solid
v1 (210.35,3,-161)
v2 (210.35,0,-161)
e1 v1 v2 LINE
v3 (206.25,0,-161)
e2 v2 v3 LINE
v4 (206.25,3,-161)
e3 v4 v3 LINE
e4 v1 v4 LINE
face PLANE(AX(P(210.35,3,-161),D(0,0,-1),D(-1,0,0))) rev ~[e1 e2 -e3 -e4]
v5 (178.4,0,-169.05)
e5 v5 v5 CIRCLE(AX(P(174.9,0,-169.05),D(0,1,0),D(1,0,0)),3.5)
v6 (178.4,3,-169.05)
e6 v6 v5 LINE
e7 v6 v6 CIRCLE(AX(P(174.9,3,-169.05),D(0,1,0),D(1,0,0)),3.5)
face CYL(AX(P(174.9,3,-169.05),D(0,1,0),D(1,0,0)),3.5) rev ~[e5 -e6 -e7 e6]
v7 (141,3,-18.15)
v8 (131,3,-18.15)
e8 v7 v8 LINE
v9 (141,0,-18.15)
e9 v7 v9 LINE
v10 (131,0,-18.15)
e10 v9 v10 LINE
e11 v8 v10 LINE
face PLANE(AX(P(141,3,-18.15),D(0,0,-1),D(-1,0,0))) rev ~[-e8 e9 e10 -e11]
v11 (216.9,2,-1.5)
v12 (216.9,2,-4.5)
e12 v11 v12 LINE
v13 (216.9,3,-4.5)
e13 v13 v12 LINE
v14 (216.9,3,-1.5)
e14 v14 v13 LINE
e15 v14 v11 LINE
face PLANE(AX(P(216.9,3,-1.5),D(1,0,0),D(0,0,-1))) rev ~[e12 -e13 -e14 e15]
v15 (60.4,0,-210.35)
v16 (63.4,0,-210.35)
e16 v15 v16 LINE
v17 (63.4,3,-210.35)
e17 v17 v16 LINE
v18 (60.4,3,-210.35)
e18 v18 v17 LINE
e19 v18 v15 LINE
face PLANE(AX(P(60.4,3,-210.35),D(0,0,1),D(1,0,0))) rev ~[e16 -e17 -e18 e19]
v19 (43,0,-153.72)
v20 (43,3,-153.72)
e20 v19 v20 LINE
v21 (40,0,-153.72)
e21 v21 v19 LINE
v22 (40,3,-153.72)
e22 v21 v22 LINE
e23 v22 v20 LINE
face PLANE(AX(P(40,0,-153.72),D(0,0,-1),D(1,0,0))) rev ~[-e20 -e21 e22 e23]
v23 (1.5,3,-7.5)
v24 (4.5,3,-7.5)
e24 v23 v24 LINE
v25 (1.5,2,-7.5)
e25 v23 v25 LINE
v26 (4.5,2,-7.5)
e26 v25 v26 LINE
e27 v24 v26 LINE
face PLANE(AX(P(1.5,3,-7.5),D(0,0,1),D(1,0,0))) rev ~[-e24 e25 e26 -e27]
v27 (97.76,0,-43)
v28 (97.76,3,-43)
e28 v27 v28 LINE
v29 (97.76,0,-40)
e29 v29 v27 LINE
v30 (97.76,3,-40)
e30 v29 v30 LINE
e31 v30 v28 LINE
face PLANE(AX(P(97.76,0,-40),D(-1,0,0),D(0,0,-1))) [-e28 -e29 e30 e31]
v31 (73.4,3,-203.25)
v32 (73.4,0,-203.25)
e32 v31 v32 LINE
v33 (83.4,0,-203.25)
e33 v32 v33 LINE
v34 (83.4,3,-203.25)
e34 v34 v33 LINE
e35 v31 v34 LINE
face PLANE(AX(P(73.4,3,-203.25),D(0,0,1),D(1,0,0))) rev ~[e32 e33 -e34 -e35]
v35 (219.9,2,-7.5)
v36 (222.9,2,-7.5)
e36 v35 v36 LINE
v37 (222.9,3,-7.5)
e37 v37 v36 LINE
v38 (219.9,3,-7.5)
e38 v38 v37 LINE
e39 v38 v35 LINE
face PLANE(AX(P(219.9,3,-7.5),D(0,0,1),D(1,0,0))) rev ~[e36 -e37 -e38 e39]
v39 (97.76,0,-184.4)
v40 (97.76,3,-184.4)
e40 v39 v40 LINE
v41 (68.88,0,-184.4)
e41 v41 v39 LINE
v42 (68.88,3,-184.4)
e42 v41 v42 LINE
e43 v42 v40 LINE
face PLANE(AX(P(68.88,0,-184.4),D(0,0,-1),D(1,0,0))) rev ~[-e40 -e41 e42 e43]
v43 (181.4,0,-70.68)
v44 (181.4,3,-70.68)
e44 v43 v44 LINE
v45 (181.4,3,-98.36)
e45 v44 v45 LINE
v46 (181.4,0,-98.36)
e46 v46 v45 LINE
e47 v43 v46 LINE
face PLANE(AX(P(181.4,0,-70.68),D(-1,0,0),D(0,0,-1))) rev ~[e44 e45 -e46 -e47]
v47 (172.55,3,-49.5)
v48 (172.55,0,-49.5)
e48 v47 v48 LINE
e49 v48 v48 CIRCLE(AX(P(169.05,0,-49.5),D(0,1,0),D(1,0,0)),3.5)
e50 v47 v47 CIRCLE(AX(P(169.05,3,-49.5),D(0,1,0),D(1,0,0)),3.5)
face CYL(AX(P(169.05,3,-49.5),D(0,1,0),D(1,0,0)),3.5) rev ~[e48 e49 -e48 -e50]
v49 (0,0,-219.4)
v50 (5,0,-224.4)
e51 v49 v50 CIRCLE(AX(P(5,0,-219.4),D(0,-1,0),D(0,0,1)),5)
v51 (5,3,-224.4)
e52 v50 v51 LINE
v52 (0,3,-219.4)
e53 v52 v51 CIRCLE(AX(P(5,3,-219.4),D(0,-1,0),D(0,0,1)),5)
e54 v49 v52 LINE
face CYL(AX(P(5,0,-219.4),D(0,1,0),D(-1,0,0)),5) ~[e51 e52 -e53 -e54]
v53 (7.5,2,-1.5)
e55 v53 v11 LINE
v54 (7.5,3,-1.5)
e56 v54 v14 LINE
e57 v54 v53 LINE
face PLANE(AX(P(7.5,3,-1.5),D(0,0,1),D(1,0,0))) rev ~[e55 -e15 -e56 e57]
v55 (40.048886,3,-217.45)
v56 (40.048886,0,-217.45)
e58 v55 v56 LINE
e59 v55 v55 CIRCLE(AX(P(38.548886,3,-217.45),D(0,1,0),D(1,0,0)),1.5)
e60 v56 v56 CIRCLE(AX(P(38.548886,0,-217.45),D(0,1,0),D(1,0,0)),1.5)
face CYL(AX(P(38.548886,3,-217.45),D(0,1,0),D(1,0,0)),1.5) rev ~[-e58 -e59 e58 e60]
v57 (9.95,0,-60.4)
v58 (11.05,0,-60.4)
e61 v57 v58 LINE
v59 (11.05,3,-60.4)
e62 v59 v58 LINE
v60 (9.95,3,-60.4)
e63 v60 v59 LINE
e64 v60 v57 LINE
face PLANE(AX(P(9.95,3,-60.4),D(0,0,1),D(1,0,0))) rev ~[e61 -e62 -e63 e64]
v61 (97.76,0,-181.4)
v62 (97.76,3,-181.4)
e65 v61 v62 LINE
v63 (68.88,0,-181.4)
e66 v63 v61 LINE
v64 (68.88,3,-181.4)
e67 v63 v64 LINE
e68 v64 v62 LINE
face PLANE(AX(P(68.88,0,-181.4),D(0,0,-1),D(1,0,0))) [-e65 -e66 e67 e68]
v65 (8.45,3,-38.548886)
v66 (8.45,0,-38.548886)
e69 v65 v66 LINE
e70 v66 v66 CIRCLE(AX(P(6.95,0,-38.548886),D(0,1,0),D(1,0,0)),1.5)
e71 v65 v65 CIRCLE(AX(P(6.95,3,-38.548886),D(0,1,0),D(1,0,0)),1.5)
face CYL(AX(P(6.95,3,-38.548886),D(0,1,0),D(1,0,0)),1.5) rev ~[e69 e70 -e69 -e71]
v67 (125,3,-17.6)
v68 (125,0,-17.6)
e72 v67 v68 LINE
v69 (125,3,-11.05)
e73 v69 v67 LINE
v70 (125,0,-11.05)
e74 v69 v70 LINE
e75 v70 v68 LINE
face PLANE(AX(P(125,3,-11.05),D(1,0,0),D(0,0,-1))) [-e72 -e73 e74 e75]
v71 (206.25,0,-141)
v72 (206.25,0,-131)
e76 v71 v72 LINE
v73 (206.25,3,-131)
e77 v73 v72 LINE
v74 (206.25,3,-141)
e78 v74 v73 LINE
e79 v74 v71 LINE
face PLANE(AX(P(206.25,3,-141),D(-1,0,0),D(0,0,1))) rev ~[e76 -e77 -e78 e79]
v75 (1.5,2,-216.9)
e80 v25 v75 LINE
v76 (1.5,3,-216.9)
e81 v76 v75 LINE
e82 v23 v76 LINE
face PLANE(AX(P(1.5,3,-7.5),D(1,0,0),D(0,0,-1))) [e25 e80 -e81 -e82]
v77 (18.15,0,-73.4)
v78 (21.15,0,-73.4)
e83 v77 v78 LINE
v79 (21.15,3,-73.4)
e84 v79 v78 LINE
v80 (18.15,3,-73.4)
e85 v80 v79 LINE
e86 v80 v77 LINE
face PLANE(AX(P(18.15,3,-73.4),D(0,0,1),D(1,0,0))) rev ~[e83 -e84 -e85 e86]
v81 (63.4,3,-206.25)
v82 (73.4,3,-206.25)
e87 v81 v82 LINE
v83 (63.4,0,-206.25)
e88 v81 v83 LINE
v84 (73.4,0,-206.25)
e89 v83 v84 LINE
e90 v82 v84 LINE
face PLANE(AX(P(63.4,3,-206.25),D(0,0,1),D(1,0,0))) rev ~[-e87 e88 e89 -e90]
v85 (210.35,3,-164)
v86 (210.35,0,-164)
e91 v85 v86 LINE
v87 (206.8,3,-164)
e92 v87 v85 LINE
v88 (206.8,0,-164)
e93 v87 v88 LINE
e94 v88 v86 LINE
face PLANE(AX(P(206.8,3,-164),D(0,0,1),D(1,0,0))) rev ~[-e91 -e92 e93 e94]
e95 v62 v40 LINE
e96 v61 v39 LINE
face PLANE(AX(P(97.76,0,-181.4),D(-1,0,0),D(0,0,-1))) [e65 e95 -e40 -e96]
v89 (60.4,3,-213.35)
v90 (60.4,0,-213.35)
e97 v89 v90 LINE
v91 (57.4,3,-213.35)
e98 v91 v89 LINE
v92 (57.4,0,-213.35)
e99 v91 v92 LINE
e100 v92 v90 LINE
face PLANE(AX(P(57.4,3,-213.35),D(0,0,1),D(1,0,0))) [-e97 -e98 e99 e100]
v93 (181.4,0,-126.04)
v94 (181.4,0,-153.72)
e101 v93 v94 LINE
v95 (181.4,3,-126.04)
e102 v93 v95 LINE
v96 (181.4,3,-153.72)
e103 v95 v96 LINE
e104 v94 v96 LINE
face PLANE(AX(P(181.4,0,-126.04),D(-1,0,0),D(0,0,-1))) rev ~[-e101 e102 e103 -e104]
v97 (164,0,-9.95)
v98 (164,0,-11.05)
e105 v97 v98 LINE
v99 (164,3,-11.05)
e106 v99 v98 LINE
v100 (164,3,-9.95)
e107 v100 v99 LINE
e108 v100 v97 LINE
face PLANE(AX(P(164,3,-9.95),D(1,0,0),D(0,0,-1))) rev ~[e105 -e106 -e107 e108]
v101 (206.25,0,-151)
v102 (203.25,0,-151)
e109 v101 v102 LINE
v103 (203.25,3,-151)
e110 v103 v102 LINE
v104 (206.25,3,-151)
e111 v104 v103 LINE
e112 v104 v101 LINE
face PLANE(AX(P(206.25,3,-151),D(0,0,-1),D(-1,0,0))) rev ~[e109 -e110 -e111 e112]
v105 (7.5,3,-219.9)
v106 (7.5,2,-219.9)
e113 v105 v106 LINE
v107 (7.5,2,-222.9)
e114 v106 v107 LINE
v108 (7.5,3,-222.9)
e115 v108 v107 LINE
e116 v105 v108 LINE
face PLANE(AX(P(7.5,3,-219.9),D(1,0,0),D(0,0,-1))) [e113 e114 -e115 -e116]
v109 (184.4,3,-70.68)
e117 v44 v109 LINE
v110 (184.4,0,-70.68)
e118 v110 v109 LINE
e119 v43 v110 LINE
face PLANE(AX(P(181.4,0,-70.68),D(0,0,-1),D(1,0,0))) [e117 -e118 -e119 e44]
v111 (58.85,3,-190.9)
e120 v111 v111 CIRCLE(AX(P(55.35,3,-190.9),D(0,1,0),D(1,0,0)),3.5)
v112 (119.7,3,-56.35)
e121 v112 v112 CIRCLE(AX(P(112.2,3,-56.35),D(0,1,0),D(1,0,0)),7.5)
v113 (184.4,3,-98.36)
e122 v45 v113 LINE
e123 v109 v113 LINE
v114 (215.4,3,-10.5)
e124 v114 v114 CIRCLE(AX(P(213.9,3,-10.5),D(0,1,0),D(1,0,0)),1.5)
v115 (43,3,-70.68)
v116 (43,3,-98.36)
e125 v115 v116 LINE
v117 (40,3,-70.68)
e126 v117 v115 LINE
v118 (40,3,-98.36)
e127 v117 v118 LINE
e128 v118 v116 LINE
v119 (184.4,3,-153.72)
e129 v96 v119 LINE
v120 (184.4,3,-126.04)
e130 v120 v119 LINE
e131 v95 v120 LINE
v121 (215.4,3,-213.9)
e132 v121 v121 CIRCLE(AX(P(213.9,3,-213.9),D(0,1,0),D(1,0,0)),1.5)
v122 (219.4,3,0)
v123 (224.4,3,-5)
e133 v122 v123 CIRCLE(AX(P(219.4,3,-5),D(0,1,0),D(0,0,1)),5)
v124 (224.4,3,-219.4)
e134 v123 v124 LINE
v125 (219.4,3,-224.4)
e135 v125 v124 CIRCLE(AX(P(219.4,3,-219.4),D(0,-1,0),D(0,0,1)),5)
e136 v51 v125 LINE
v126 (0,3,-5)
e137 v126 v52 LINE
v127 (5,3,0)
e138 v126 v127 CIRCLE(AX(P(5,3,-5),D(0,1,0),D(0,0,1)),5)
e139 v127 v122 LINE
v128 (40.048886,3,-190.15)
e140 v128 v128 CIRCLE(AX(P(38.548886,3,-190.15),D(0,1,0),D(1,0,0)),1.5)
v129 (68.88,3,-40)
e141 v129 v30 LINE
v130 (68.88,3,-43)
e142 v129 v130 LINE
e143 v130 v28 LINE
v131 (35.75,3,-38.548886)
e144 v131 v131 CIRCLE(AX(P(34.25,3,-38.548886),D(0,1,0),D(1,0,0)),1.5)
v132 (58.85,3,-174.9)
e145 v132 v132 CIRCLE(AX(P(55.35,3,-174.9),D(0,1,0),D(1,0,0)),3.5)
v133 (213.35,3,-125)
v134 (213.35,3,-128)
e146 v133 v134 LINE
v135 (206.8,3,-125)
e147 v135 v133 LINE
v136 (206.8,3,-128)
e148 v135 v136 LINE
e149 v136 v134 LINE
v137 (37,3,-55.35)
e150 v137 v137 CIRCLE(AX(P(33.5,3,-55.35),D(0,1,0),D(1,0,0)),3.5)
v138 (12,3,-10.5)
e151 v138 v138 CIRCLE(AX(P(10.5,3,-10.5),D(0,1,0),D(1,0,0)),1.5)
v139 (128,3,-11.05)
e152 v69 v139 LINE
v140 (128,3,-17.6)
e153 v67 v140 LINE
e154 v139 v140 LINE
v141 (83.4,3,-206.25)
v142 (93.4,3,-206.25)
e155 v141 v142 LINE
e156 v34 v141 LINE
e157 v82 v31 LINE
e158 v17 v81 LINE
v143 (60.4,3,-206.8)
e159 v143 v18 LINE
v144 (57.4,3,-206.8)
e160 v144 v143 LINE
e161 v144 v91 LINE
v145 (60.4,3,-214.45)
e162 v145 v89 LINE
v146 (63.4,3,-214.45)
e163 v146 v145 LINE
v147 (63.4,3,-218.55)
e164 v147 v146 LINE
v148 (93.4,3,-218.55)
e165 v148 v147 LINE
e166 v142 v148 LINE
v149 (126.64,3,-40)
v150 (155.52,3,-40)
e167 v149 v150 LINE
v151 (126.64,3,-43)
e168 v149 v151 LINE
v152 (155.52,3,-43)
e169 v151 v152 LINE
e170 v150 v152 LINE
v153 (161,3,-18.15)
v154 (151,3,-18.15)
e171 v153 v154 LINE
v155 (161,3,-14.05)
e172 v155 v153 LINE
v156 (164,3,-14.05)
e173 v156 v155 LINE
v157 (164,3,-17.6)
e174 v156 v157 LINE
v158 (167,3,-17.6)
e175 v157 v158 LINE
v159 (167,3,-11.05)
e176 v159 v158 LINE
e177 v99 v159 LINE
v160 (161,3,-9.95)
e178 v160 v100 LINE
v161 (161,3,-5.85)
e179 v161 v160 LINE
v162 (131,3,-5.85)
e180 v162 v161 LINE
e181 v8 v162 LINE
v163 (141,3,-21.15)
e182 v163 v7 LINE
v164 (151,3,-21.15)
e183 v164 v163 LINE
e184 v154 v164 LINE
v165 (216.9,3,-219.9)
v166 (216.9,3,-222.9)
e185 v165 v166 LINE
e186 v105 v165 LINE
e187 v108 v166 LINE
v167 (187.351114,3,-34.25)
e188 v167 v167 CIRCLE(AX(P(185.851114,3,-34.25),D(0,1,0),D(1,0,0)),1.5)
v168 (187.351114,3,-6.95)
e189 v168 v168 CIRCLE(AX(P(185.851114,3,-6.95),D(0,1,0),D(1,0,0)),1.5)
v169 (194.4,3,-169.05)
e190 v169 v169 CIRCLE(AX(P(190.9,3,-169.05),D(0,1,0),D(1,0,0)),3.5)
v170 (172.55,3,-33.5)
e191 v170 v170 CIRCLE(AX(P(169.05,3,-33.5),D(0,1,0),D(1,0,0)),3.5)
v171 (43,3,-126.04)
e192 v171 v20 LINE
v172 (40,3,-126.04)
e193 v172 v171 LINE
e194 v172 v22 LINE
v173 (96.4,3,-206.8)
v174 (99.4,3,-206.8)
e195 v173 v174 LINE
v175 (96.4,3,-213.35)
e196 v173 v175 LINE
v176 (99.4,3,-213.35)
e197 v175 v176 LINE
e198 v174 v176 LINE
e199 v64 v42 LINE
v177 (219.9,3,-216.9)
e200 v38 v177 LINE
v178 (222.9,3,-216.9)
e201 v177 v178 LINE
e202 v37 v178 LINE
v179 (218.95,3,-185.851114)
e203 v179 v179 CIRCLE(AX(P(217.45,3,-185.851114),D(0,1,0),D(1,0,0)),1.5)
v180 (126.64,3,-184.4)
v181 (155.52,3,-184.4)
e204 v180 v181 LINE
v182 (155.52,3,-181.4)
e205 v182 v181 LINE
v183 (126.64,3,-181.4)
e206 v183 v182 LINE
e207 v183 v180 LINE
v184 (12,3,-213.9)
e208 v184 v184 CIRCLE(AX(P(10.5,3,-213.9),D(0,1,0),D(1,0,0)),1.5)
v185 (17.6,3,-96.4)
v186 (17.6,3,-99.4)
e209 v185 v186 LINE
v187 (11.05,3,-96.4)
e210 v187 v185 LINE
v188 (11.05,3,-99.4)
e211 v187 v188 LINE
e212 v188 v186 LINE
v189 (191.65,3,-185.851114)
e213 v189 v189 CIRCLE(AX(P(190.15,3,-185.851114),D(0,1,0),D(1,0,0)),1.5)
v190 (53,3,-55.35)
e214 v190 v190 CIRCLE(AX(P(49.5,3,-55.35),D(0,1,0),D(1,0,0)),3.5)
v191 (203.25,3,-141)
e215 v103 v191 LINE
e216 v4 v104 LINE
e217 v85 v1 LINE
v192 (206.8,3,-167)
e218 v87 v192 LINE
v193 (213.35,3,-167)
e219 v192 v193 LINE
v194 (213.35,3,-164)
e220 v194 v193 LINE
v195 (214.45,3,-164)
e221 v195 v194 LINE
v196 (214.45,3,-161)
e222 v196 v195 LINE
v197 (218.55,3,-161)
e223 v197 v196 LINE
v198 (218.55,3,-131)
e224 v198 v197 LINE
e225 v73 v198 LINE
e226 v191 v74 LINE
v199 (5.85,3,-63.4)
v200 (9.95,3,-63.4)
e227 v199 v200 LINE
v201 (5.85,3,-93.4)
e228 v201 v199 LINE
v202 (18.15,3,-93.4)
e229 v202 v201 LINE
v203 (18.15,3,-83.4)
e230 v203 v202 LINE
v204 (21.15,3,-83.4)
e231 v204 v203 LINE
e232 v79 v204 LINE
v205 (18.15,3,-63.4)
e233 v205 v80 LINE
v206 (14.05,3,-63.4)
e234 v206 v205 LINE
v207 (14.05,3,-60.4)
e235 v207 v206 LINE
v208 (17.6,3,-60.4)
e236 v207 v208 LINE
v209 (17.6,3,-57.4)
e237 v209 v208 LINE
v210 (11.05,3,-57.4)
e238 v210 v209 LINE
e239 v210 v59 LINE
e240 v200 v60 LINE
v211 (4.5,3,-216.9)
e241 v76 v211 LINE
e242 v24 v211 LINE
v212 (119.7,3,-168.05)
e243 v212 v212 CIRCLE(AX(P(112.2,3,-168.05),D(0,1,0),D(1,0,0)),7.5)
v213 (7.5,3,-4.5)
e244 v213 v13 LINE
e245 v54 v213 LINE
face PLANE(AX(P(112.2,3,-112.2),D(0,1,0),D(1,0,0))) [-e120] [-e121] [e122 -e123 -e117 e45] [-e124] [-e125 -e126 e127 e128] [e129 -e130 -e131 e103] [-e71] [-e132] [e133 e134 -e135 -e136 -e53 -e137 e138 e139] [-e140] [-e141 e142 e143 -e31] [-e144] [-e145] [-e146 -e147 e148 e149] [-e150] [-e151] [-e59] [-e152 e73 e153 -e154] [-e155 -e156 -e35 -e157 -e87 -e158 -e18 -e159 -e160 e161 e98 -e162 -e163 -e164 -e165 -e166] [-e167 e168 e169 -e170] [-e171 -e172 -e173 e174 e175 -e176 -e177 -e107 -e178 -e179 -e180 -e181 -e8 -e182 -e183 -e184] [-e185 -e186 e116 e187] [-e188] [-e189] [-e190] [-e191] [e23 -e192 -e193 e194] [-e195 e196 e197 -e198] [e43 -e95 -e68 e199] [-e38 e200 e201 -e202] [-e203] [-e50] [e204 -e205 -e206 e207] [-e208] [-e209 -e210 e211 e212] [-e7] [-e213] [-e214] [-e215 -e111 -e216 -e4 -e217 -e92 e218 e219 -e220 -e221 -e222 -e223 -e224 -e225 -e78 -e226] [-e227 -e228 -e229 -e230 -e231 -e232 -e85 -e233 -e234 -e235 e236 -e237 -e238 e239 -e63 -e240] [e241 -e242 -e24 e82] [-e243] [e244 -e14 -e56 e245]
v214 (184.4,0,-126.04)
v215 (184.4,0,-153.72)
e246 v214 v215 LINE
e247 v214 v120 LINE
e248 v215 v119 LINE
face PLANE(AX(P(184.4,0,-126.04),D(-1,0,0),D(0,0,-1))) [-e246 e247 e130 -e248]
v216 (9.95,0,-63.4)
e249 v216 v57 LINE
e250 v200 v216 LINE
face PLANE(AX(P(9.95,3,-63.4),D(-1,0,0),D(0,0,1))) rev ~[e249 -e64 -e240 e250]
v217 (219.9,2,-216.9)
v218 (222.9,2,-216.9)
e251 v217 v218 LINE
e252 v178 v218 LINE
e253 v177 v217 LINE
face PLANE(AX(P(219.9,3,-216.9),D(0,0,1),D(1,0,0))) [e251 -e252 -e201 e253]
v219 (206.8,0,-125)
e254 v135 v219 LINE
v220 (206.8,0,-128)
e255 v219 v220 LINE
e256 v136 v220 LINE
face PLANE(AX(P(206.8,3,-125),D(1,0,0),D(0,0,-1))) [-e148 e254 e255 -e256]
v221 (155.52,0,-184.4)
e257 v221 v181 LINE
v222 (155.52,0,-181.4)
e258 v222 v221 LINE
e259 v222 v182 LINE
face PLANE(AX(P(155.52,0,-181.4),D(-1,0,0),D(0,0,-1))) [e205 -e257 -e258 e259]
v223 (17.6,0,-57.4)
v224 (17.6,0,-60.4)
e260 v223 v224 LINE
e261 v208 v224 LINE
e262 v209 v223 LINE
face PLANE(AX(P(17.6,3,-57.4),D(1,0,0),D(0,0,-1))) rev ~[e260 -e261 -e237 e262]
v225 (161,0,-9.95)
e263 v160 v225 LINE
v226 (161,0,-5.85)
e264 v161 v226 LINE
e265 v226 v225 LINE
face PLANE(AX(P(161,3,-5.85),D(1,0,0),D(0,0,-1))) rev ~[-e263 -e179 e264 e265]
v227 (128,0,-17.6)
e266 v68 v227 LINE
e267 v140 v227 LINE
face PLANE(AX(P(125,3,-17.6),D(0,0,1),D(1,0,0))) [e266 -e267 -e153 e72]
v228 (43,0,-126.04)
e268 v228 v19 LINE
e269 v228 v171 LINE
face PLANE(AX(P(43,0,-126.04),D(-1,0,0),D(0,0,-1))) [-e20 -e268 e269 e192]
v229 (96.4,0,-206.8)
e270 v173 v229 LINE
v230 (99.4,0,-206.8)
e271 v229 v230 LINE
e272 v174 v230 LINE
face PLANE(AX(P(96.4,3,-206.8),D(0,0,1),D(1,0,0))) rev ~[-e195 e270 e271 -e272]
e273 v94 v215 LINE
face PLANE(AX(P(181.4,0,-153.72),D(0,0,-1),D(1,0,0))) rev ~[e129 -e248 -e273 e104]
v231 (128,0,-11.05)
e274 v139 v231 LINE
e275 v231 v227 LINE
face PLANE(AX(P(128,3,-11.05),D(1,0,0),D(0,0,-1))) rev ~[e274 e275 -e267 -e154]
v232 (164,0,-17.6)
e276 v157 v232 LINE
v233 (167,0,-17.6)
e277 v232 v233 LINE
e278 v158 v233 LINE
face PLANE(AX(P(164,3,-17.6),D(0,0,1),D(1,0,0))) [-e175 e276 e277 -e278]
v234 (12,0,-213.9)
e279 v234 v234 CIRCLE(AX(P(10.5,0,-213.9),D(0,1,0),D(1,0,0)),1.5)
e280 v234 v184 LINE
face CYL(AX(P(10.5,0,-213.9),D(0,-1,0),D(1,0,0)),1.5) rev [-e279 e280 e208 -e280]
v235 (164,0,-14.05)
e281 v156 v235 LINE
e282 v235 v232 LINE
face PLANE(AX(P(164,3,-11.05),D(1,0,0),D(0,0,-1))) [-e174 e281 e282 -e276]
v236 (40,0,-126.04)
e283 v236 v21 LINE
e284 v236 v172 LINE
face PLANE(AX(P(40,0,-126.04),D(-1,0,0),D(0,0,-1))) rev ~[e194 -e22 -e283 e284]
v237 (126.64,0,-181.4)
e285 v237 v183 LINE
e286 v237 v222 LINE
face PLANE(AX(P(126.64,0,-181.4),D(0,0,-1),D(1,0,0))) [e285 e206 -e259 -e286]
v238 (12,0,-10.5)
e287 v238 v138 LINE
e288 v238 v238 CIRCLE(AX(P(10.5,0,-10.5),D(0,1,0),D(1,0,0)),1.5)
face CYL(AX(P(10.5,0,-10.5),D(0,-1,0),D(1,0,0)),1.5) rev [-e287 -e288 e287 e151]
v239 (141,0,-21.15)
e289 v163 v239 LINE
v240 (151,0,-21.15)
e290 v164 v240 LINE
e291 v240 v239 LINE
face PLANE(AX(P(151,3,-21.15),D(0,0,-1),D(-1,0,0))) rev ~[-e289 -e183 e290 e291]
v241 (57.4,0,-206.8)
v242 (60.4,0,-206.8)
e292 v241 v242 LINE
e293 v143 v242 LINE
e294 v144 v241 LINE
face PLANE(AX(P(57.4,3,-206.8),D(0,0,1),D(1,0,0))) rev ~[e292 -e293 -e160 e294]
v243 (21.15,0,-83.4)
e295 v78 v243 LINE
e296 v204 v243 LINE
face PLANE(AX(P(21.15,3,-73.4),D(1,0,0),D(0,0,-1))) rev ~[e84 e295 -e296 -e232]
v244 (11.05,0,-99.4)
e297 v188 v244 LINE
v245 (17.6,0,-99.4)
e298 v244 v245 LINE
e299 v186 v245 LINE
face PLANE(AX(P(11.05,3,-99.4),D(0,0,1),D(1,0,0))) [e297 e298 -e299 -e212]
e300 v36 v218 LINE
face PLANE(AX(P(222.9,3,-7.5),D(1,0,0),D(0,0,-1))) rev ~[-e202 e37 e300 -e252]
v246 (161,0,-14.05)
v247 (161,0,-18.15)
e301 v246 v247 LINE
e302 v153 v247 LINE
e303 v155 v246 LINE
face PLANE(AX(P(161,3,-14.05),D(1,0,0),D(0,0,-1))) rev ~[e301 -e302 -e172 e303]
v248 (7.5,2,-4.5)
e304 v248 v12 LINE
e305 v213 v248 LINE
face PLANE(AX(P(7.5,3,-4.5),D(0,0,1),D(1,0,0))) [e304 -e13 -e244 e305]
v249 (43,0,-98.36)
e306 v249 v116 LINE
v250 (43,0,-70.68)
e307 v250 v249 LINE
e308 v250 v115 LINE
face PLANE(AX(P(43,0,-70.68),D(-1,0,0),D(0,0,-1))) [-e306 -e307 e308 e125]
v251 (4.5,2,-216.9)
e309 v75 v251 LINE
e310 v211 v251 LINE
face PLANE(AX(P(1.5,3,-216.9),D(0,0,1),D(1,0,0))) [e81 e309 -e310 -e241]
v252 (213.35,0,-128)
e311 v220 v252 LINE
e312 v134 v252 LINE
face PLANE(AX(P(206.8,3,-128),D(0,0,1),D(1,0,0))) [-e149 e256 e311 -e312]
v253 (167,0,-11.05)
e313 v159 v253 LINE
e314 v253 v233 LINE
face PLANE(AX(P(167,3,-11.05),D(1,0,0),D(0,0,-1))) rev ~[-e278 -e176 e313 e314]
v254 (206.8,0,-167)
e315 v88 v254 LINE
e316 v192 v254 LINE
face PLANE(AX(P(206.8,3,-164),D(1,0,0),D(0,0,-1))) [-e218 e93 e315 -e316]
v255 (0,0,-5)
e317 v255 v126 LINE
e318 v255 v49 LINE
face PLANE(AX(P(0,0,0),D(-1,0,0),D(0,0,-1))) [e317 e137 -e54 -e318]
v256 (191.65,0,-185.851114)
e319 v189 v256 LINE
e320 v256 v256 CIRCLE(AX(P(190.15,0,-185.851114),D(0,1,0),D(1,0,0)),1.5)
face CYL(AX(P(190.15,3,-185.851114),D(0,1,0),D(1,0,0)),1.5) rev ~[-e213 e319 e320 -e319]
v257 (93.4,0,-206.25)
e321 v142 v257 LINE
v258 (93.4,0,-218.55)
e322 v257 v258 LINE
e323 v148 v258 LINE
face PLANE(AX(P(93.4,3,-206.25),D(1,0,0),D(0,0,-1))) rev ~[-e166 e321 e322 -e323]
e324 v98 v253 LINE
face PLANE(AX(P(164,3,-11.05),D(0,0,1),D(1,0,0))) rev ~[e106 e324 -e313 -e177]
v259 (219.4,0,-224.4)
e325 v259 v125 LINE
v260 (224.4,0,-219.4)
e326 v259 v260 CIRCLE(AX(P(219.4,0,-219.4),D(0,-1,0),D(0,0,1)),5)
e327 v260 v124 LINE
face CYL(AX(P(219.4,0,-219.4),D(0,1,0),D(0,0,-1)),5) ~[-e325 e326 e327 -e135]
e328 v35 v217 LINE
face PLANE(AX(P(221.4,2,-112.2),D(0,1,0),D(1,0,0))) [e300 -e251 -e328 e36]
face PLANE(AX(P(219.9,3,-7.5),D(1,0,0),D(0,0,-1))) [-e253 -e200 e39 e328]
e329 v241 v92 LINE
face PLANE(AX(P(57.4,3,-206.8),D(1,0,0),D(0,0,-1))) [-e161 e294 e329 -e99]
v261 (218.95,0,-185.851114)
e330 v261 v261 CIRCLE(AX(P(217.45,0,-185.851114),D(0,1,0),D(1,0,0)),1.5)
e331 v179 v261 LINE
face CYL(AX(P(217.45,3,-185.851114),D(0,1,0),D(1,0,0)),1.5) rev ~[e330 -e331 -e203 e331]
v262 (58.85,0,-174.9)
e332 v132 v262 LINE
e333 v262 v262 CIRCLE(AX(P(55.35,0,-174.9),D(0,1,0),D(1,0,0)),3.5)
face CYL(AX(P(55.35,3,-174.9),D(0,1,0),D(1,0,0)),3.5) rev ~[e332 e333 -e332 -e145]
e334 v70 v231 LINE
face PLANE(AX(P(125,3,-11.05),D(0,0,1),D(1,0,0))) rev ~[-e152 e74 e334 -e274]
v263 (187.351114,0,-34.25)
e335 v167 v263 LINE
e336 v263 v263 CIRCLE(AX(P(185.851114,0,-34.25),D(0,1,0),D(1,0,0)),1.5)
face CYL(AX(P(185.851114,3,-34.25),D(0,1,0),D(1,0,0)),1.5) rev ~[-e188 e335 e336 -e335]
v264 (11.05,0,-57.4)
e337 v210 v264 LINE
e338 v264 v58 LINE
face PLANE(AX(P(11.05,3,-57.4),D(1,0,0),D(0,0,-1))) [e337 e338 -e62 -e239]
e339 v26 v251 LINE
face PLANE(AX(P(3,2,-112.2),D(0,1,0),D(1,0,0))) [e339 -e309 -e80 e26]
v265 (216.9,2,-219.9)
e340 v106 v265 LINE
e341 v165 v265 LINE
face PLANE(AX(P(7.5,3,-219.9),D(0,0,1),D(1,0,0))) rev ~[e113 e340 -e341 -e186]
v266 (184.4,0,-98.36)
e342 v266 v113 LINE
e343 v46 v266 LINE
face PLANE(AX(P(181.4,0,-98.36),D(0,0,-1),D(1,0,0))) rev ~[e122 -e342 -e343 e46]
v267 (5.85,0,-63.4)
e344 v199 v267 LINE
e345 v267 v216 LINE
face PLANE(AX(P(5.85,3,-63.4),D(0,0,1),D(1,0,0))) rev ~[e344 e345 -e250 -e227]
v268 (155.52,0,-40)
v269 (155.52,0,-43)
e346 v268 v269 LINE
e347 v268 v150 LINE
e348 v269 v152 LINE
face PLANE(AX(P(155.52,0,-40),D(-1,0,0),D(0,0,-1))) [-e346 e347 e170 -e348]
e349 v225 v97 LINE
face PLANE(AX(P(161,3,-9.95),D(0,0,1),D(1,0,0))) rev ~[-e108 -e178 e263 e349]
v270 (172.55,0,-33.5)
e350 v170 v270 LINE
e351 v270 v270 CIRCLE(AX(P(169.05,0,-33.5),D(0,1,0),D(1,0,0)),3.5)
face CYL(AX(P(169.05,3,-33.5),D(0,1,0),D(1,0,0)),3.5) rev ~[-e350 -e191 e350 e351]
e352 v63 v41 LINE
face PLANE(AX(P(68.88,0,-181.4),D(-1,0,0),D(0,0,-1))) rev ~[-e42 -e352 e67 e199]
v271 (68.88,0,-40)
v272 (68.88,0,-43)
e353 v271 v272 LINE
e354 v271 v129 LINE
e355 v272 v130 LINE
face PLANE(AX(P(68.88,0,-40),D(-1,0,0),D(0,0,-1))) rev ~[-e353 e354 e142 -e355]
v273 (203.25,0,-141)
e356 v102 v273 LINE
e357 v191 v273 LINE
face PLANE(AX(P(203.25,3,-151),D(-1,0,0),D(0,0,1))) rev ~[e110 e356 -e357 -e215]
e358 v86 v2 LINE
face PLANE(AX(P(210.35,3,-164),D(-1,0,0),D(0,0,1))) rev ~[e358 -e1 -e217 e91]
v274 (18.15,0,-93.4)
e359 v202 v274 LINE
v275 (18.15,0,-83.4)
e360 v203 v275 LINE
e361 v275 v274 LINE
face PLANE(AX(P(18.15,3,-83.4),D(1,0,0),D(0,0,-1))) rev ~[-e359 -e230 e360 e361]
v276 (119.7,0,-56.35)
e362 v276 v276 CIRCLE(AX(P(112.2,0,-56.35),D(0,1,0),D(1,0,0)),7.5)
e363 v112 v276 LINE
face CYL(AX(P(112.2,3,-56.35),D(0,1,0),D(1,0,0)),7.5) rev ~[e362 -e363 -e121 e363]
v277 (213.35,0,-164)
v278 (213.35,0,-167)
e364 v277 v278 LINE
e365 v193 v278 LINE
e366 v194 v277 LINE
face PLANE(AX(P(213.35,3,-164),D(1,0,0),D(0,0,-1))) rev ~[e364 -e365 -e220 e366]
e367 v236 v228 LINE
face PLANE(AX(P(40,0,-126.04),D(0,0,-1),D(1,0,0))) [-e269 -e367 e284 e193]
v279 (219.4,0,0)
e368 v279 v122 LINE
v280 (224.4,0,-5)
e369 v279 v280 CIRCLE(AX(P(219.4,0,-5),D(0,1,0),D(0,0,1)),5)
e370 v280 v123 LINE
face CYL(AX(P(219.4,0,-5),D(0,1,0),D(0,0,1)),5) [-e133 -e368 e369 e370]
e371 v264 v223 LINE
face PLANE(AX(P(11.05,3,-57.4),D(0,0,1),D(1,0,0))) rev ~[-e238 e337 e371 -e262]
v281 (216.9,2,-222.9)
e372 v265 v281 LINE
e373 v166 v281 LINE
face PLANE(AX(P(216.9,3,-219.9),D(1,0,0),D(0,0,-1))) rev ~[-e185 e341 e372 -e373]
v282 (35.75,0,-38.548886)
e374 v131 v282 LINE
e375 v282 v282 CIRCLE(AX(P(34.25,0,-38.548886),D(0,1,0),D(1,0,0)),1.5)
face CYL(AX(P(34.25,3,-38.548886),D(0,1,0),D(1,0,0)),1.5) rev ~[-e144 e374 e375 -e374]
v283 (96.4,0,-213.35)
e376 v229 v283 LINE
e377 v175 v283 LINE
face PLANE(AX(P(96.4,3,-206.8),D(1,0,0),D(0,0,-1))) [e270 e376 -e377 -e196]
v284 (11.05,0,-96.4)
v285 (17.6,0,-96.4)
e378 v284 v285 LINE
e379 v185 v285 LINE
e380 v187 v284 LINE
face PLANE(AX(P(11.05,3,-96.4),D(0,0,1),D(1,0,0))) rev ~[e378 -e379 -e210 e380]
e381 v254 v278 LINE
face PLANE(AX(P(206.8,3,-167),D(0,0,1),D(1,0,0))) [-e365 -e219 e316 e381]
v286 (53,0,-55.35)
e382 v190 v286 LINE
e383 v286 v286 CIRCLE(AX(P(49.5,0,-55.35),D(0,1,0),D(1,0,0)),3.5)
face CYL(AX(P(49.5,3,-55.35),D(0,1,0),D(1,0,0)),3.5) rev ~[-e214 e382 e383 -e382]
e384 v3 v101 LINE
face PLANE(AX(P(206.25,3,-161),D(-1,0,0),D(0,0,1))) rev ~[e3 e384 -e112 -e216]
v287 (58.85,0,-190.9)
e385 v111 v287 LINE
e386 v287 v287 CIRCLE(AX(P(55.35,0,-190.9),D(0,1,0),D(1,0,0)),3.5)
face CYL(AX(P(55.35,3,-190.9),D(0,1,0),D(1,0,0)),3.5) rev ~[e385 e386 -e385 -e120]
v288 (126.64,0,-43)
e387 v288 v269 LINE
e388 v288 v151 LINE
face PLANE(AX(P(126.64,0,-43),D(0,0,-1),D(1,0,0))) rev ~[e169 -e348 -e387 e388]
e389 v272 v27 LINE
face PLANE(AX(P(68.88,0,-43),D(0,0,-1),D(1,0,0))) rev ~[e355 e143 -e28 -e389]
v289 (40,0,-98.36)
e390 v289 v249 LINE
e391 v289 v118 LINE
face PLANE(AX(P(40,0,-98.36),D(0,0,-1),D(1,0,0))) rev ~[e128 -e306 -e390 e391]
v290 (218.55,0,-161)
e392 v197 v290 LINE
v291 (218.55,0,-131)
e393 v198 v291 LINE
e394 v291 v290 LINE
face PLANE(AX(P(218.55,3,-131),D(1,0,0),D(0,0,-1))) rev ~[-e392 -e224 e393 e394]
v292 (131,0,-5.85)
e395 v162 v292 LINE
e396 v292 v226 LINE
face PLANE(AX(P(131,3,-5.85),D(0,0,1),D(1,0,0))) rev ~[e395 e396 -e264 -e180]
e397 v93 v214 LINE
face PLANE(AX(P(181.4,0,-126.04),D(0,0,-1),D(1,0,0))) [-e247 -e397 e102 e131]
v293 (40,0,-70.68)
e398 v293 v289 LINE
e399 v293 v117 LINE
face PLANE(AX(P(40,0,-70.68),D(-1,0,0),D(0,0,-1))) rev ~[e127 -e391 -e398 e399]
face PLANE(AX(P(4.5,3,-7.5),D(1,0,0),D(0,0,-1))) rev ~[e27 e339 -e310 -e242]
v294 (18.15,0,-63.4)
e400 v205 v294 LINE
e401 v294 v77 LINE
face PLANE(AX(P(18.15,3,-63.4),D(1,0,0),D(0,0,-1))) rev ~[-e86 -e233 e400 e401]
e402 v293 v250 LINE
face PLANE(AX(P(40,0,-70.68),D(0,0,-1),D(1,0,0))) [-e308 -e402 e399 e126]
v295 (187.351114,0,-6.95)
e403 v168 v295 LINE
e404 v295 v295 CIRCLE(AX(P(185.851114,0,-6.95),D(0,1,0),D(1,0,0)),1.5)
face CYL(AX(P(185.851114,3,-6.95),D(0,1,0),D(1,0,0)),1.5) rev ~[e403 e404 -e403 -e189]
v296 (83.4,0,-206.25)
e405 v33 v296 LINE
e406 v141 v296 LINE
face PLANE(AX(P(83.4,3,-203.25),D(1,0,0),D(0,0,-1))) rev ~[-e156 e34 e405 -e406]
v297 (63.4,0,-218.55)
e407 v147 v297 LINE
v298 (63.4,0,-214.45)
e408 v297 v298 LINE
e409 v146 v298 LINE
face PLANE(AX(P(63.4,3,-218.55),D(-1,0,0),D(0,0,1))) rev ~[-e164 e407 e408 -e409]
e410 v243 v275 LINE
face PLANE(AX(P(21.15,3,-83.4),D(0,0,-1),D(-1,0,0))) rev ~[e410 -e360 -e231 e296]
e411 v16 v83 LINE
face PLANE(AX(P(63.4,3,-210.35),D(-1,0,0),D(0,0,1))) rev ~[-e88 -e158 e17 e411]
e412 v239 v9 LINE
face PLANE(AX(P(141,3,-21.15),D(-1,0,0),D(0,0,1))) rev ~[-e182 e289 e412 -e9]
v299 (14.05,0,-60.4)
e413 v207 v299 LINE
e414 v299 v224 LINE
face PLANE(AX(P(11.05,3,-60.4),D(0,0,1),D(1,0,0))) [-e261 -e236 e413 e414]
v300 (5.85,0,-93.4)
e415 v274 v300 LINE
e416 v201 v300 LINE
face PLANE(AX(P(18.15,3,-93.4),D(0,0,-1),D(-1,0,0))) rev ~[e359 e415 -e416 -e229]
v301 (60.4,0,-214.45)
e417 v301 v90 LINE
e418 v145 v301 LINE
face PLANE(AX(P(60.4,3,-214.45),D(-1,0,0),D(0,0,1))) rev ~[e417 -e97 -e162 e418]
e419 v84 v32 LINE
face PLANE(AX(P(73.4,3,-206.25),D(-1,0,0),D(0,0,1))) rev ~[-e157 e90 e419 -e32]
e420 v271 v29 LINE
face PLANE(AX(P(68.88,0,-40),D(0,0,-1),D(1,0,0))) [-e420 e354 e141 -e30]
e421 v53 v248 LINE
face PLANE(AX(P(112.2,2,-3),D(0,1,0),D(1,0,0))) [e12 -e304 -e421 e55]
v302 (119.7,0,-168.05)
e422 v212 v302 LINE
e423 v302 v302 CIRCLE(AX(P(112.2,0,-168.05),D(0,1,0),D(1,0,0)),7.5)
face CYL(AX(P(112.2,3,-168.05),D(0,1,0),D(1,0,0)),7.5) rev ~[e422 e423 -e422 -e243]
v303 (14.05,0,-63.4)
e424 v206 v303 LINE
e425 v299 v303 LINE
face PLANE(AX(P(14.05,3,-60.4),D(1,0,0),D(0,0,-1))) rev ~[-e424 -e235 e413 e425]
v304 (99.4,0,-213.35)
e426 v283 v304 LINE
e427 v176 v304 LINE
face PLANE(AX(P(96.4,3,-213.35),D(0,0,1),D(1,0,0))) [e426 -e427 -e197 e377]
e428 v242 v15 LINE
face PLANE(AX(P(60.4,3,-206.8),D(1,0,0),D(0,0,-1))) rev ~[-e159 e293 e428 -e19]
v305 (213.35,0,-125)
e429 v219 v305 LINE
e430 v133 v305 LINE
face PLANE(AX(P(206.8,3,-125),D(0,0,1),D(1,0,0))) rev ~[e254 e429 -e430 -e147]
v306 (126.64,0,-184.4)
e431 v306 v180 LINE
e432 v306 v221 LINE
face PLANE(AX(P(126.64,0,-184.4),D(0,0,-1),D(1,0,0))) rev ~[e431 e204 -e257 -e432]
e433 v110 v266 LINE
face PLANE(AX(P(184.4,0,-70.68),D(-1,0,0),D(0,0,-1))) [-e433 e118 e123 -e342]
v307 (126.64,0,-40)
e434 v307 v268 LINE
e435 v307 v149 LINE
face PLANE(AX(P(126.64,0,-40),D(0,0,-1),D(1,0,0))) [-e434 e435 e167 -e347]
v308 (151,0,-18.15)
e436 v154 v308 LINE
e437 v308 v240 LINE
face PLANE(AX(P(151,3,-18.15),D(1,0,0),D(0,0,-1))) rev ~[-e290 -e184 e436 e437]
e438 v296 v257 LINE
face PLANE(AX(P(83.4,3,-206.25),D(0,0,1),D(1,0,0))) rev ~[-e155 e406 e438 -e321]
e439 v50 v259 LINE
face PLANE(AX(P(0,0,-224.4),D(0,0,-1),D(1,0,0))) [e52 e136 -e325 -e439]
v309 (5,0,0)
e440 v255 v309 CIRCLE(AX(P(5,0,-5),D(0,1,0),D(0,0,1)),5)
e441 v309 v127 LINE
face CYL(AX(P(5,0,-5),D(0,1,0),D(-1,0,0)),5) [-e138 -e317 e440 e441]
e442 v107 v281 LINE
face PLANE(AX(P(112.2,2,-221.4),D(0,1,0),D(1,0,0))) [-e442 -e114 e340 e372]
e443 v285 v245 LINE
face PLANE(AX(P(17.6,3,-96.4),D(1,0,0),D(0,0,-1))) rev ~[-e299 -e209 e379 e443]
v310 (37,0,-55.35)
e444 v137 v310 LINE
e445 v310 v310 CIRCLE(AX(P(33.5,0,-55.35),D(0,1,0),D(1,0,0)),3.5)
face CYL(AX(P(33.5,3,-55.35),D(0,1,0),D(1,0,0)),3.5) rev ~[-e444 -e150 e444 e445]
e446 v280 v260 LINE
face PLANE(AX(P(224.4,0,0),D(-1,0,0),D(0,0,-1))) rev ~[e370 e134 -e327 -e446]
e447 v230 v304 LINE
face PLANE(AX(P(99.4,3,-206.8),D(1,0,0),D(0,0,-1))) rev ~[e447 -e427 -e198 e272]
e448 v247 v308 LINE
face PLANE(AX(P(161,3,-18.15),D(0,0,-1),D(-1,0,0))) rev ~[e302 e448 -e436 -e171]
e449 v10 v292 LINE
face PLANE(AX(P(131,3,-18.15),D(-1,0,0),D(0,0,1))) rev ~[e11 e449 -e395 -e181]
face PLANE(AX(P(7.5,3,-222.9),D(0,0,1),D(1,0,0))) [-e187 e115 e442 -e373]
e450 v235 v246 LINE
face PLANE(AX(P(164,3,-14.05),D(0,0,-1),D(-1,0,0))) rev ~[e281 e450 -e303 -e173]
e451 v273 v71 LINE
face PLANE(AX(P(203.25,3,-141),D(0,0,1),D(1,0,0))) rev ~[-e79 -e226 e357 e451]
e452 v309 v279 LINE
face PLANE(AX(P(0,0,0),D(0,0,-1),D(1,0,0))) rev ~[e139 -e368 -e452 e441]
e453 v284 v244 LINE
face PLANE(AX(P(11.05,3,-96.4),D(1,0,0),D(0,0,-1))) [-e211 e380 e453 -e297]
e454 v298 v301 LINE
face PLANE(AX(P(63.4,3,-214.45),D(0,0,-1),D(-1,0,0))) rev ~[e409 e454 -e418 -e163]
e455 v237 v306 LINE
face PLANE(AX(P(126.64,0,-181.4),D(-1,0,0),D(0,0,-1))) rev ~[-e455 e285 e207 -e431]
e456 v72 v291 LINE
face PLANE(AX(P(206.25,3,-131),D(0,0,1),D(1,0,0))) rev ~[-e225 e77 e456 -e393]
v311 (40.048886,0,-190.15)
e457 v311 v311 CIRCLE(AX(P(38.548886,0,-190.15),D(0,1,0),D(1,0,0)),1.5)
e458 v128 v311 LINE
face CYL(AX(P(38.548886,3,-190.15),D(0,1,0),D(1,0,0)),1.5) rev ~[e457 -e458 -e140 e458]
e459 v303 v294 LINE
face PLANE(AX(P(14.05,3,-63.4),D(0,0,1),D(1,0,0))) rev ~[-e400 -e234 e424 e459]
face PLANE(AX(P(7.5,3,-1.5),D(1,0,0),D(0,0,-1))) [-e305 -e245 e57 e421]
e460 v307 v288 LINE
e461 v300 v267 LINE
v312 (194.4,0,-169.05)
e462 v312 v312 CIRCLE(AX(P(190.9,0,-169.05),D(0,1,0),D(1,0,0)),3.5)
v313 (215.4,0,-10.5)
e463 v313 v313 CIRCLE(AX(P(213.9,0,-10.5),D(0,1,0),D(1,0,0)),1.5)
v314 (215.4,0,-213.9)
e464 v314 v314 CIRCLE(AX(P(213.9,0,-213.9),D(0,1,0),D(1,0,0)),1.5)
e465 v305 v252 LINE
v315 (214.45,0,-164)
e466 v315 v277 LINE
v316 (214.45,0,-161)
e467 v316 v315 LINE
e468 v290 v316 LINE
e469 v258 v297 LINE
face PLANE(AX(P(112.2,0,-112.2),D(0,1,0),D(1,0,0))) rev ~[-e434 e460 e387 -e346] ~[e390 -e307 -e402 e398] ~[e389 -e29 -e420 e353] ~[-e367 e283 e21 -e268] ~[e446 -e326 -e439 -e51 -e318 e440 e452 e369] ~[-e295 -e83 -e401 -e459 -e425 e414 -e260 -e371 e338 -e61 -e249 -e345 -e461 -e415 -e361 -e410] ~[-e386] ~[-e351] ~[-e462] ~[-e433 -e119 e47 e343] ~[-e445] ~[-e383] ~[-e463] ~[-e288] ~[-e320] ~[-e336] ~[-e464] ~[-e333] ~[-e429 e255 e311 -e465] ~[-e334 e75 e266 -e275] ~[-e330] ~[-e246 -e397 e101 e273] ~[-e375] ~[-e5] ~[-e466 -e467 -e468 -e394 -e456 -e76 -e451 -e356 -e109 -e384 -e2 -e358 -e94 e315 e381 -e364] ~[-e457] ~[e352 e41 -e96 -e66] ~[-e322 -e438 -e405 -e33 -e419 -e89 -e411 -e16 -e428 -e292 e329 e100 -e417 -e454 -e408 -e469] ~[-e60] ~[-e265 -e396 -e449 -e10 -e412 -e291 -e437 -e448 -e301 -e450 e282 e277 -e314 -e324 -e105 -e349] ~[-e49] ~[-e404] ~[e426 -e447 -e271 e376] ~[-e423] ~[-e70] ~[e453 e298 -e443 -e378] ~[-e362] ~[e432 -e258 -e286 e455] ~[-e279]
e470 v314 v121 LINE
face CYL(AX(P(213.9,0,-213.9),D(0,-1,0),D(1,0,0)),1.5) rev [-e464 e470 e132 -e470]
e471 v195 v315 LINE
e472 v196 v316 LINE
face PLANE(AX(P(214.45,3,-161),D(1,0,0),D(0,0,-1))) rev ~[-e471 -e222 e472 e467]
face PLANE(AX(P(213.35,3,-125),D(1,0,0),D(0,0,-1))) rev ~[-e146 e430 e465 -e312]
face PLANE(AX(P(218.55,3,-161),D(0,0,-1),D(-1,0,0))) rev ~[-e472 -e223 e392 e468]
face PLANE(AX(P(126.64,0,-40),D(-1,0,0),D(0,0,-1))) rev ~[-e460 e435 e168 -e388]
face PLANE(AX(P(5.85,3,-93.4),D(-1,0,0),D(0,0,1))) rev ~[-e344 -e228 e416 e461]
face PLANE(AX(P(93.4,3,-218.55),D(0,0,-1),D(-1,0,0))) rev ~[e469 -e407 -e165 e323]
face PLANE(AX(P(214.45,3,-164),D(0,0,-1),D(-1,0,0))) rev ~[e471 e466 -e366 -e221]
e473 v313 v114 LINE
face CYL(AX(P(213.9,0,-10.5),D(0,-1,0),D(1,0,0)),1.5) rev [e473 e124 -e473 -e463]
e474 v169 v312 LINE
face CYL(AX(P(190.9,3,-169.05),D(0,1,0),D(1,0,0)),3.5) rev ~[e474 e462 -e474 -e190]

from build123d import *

# Parameters (mm, degrees)
SKETCH1_W           = 224.4
SKETCH1_H           = 224.4
SKETCH1_R           = 1.5
SKETCH1_W_2         = 28.88
SKETCH1_H_2         = 3
SKETCH1_W_3         = 3
SKETCH1_H_3         = 27.68
BOSS_EXTRUDE1_DEPTH = 3
FILLET1_R           = 5
SKETCH2_W           = 209.4
SKETCH2_H           = 3
SKETCH2_W_2         = 3
SKETCH2_H_2         = 209.4
CUT_EXTRUDE1_DEPTH  = 1
CUT_EXTRUDE3_DEPTH  = 4
CUT_EXTRUDE4_REACH  = 5
SKETCH4_R           = 1.5
SKETCH5_W           = 3
SKETCH5_H           = 6.55
SKETCH5_W_2         = 6.55
SKETCH5_H_2         = 3
CUT_EXTRUDE5_DEPTH  = 4
SKETCH6_R           = 3.5
CUT_EXTRUDE6_DEPTH  = 4
SKETCH13_R          = 7.5
CUT_EXTRUDE10_DEPTH = 4


with BuildPart() as part:
    # Sketch1 → Boss-Extrude1 (new body)
    with BuildSketch(Plane(origin=(0, 0, 0), x_dir=(1, 0, 0), z_dir=(0, 1, 0))):
        with Locations((112.2, 112.2)):
            Rectangle(SKETCH1_W, SKETCH1_H)
        with Locations((213.9, 10.5)):
            Circle(SKETCH1_R, mode=Mode.SUBTRACT)
        with Locations((213.9, 213.9)):
            Circle(SKETCH1_R, mode=Mode.SUBTRACT)
        with Locations((10.5, 10.5)):
            Circle(SKETCH1_R, mode=Mode.SUBTRACT)
        with Locations((10.5, 213.9)):
            Circle(SKETCH1_R, mode=Mode.SUBTRACT)
        with Locations((83.32, 41.5)):
            Rectangle(SKETCH1_W_2, SKETCH1_H_2, mode=Mode.SUBTRACT)
        with Locations((141.08, 41.5)):
            Rectangle(SKETCH1_W_2, SKETCH1_H_2, mode=Mode.SUBTRACT)
        with Locations((141.08, 182.9)):
            Rectangle(SKETCH1_W_2, SKETCH1_H_2, mode=Mode.SUBTRACT)
        with Locations((83.32, 182.9)):
            Rectangle(SKETCH1_W_2, SKETCH1_H_2, mode=Mode.SUBTRACT)
        with Locations((41.5, 84.52)):
            Rectangle(SKETCH1_W_3, SKETCH1_H_3, mode=Mode.SUBTRACT)
        with Locations((41.5, 139.88)):
            Rectangle(SKETCH1_W_3, SKETCH1_H_3, mode=Mode.SUBTRACT)
        with Locations((182.9, 139.88)):
            Rectangle(SKETCH1_W_3, SKETCH1_H_3, mode=Mode.SUBTRACT)
        with Locations((182.9, 84.52)):
            Rectangle(SKETCH1_W_3, SKETCH1_H_3, mode=Mode.SUBTRACT)
    extrude(amount=BOSS_EXTRUDE1_DEPTH)

    # Fillet1
    fillet1_edges = [part.edges().sort_by_distance(p)[0] for p in [
        (0, 1.5, -224.4),
        (224.4, 1.5, -224.4),
        (224.4, 1.5, 0),
        (0, 1.5, 0),
    ]]
    fillet(fillet1_edges, radius=FILLET1_R)

    # Sketch2 → Cut-Extrude1 (cut)
    with BuildSketch(Plane(origin=(0, 3, 0), x_dir=(1, 0, 0), z_dir=(0, 1, 0))):
        with Locations((112.2, 3)):
            Rectangle(SKETCH2_W, SKETCH2_H)
        with Locations((221.4, 112.2)):
            Rectangle(SKETCH2_W_2, SKETCH2_H_2)
        with Locations((112.2, 221.4)):
            Rectangle(SKETCH2_W, SKETCH2_H)
        with Locations((3, 112.2)):
            Rectangle(SKETCH2_W_2, SKETCH2_H_2)
    extrude(amount=-CUT_EXTRUDE1_DEPTH, mode=Mode.SUBTRACT)

    # Sketch3 → Cut-Extrude3 (cut, through all)
    with BuildSketch(Plane(origin=(0, 3, 0), x_dir=(1, 0, 0), z_dir=(0, 1, 0))):
        Polygon((131, 18.15), (131, 5.85), (161, 5.85), (161, 9.95), (164, 9.95), (164, 14.05), (161, 14.05), (161, 18.15), (151, 18.15), (151, 21.15), (141, 21.15), (141, 18.15), align=None)
        Polygon((18.15, 93.4), (5.85, 93.4), (5.85, 63.4), (9.95, 63.4), (9.95, 60.4), (14.05, 60.4), (14.05, 63.4), (18.15, 63.4), (18.15, 73.4), (21.15, 73.4), (21.15, 83.4), (18.15, 83.4), align=None)
        Polygon((93.4, 206.25), (93.4, 218.55), (63.4, 218.55), (63.4, 214.45), (60.4, 214.45), (60.4, 210.35), (63.4, 210.35), (63.4, 206.25), (73.4, 206.25), (73.4, 203.25), (83.4, 203.25), (83.4, 206.25), align=None)
        Polygon((206.25, 131), (218.55, 131), (218.55, 161), (214.45, 161), (214.45, 164), (210.35, 164), (210.35, 161), (206.25, 161), (206.25, 151), (203.25, 151), (203.25, 141), (206.25, 141), align=None)
    extrude(amount=-CUT_EXTRUDE3_DEPTH, mode=Mode.SUBTRACT)

    # Sketch4 → Cut-Extrude4 (cut, up to next)
    with BuildSketch(Plane(origin=(0, 3, 0), x_dir=(1, 0, 0), z_dir=(0, 1, 0)), mode=Mode.PRIVATE) as cut_extrude4_sk1:
        with Locations((38.54888627, 217.45)):
            Circle(SKETCH4_R)
    cut_extrude4_tool1 = extrude(cut_extrude4_sk1.sketch, amount=-CUT_EXTRUDE4_REACH, mode=Mode.PRIVATE) & part.part
    add(cut_extrude4_tool1.solids().sort_by_distance((38.548886, 3, -217.45))[0], mode=Mode.SUBTRACT)
    # Sketch4 → Cut-Extrude4 (cut, up to next)
    with BuildSketch(Plane(origin=(0, 3, 0), x_dir=(1, 0, 0), z_dir=(0, 1, 0)), mode=Mode.PRIVATE) as cut_extrude4_sk2:
        with Locations((38.54888627, 190.15)):
            Circle(SKETCH4_R)
    cut_extrude4_tool2 = extrude(cut_extrude4_sk2.sketch, amount=-CUT_EXTRUDE4_REACH, mode=Mode.PRIVATE) & part.part
    add(cut_extrude4_tool2.solids().sort_by_distance((38.548886, 3, -190.15))[0], mode=Mode.SUBTRACT)
    # Sketch4 → Cut-Extrude4 (cut, up to next)
    with BuildSketch(Plane(origin=(0, 3, 0), x_dir=(1, 0, 0), z_dir=(0, 1, 0)), mode=Mode.PRIVATE) as cut_extrude4_sk3:
        with Locations((217.45, 185.85111373)):
            Circle(SKETCH4_R)
    cut_extrude4_tool3 = extrude(cut_extrude4_sk3.sketch, amount=-CUT_EXTRUDE4_REACH, mode=Mode.PRIVATE) & part.part
    add(cut_extrude4_tool3.solids().sort_by_distance((217.45, 3, -185.851114))[0], mode=Mode.SUBTRACT)
    # Sketch4 → Cut-Extrude4 (cut, up to next)
    with BuildSketch(Plane(origin=(0, 3, 0), x_dir=(1, 0, 0), z_dir=(0, 1, 0)), mode=Mode.PRIVATE) as cut_extrude4_sk4:
        with Locations((190.15, 185.85111373)):
            Circle(SKETCH4_R)
    cut_extrude4_tool4 = extrude(cut_extrude4_sk4.sketch, amount=-CUT_EXTRUDE4_REACH, mode=Mode.PRIVATE) & part.part
    add(cut_extrude4_tool4.solids().sort_by_distance((190.15, 3, -185.851114))[0], mode=Mode.SUBTRACT)
    # Sketch4 → Cut-Extrude4 (cut, up to next)
    with BuildSketch(Plane(origin=(0, 3, 0), x_dir=(1, 0, 0), z_dir=(0, 1, 0)), mode=Mode.PRIVATE) as cut_extrude4_sk5:
        with Locations((185.85111373, 6.95)):
            Circle(SKETCH4_R)
    cut_extrude4_tool5 = extrude(cut_extrude4_sk5.sketch, amount=-CUT_EXTRUDE4_REACH, mode=Mode.PRIVATE) & part.part
    add(cut_extrude4_tool5.solids().sort_by_distance((185.851114, 3, -6.95))[0], mode=Mode.SUBTRACT)
    # Sketch4 → Cut-Extrude4 (cut, up to next)
    with BuildSketch(Plane(origin=(0, 3, 0), x_dir=(1, 0, 0), z_dir=(0, 1, 0)), mode=Mode.PRIVATE) as cut_extrude4_sk6:
        with Locations((185.85111373, 34.25)):
            Circle(SKETCH4_R)
    cut_extrude4_tool6 = extrude(cut_extrude4_sk6.sketch, amount=-CUT_EXTRUDE4_REACH, mode=Mode.PRIVATE) & part.part
    add(cut_extrude4_tool6.solids().sort_by_distance((185.851114, 3, -34.25))[0], mode=Mode.SUBTRACT)
    # Sketch4 → Cut-Extrude4 (cut, up to next)
    with BuildSketch(Plane(origin=(0, 3, 0), x_dir=(1, 0, 0), z_dir=(0, 1, 0)), mode=Mode.PRIVATE) as cut_extrude4_sk7:
        with Locations((6.95, 38.54888627)):
            Circle(SKETCH4_R)
    cut_extrude4_tool7 = extrude(cut_extrude4_sk7.sketch, amount=-CUT_EXTRUDE4_REACH, mode=Mode.PRIVATE) & part.part
    add(cut_extrude4_tool7.solids().sort_by_distance((6.95, 3, -38.548886))[0], mode=Mode.SUBTRACT)
    # Sketch4 → Cut-Extrude4 (cut, up to next)
    with BuildSketch(Plane(origin=(0, 3, 0), x_dir=(1, 0, 0), z_dir=(0, 1, 0)), mode=Mode.PRIVATE) as cut_extrude4_sk8:
        with Locations((34.25, 38.54888627)):
            Circle(SKETCH4_R)
    cut_extrude4_tool8 = extrude(cut_extrude4_sk8.sketch, amount=-CUT_EXTRUDE4_REACH, mode=Mode.PRIVATE) & part.part
    add(cut_extrude4_tool8.solids().sort_by_distance((34.25, 3, -38.548886))[0], mode=Mode.SUBTRACT)

    # Sketch5 → Cut-Extrude5 (cut, through all)
    with BuildSketch(Plane(origin=(0, 3, 0), x_dir=(1, 0, 0), z_dir=(0, 1, 0))):
        with Locations((126.5, 14.325)):
            Rectangle(SKETCH5_W, SKETCH5_H)
        with Locations((165.5, 14.325)):
            Rectangle(SKETCH5_W, SKETCH5_H)
        with Locations((14.325, 97.9)):
            Rectangle(SKETCH5_W_2, SKETCH5_H_2)
        with Locations((14.325, 58.9)):
            Rectangle(SKETCH5_W_2, SKETCH5_H_2)
        with Locations((97.9, 210.075)):
            Rectangle(SKETCH5_W, SKETCH5_H)
        with Locations((58.9, 210.075)):
            Rectangle(SKETCH5_W, SKETCH5_H)
        with Locations((210.075, 126.5)):
            Rectangle(SKETCH5_W_2, SKETCH5_H_2)
        with Locations((210.075, 165.5)):
            Rectangle(SKETCH5_W_2, SKETCH5_H_2)
    extrude(amount=-CUT_EXTRUDE5_DEPTH, mode=Mode.SUBTRACT)

    # Sketch6 → Cut-Extrude6 (cut, through all)
    with BuildSketch(Plane(origin=(0, 3, 0), x_dir=(1, 0, 0), z_dir=(0, 1, 0))):
        with Locations((169.05, 33.5)):
            Circle(SKETCH6_R)
        with Locations((169.05, 49.5)):
            Circle(SKETCH6_R)
        with Locations((33.5, 55.35)):
            Circle(SKETCH6_R)
        with Locations((49.5, 55.35)):
            Circle(SKETCH6_R)
        with Locations((55.35, 190.9)):
            Circle(SKETCH6_R)
        with Locations((55.35, 174.9)):
            Circle(SKETCH6_R)
        with Locations((190.9, 169.05)):
            Circle(SKETCH6_R)
        with Locations((174.9, 169.05)):
            Circle(SKETCH6_R)
    extrude(amount=-CUT_EXTRUDE6_DEPTH, mode=Mode.SUBTRACT)

    # Sketch13 → Cut-Extrude10 (cut, through all)
    with BuildSketch(Plane(origin=(0, 3, 0), x_dir=(1, 0, 0), z_dir=(0, 1, 0))):
        with Locations((112.2, 56.350000001)):
            Circle(SKETCH13_R)
        with Locations((112.2, 168.049999999)):
            Circle(SKETCH13_R)
    extrude(amount=-CUT_EXTRUDE10_DEPTH, mode=Mode.SUBTRACT)


solid = part.part
